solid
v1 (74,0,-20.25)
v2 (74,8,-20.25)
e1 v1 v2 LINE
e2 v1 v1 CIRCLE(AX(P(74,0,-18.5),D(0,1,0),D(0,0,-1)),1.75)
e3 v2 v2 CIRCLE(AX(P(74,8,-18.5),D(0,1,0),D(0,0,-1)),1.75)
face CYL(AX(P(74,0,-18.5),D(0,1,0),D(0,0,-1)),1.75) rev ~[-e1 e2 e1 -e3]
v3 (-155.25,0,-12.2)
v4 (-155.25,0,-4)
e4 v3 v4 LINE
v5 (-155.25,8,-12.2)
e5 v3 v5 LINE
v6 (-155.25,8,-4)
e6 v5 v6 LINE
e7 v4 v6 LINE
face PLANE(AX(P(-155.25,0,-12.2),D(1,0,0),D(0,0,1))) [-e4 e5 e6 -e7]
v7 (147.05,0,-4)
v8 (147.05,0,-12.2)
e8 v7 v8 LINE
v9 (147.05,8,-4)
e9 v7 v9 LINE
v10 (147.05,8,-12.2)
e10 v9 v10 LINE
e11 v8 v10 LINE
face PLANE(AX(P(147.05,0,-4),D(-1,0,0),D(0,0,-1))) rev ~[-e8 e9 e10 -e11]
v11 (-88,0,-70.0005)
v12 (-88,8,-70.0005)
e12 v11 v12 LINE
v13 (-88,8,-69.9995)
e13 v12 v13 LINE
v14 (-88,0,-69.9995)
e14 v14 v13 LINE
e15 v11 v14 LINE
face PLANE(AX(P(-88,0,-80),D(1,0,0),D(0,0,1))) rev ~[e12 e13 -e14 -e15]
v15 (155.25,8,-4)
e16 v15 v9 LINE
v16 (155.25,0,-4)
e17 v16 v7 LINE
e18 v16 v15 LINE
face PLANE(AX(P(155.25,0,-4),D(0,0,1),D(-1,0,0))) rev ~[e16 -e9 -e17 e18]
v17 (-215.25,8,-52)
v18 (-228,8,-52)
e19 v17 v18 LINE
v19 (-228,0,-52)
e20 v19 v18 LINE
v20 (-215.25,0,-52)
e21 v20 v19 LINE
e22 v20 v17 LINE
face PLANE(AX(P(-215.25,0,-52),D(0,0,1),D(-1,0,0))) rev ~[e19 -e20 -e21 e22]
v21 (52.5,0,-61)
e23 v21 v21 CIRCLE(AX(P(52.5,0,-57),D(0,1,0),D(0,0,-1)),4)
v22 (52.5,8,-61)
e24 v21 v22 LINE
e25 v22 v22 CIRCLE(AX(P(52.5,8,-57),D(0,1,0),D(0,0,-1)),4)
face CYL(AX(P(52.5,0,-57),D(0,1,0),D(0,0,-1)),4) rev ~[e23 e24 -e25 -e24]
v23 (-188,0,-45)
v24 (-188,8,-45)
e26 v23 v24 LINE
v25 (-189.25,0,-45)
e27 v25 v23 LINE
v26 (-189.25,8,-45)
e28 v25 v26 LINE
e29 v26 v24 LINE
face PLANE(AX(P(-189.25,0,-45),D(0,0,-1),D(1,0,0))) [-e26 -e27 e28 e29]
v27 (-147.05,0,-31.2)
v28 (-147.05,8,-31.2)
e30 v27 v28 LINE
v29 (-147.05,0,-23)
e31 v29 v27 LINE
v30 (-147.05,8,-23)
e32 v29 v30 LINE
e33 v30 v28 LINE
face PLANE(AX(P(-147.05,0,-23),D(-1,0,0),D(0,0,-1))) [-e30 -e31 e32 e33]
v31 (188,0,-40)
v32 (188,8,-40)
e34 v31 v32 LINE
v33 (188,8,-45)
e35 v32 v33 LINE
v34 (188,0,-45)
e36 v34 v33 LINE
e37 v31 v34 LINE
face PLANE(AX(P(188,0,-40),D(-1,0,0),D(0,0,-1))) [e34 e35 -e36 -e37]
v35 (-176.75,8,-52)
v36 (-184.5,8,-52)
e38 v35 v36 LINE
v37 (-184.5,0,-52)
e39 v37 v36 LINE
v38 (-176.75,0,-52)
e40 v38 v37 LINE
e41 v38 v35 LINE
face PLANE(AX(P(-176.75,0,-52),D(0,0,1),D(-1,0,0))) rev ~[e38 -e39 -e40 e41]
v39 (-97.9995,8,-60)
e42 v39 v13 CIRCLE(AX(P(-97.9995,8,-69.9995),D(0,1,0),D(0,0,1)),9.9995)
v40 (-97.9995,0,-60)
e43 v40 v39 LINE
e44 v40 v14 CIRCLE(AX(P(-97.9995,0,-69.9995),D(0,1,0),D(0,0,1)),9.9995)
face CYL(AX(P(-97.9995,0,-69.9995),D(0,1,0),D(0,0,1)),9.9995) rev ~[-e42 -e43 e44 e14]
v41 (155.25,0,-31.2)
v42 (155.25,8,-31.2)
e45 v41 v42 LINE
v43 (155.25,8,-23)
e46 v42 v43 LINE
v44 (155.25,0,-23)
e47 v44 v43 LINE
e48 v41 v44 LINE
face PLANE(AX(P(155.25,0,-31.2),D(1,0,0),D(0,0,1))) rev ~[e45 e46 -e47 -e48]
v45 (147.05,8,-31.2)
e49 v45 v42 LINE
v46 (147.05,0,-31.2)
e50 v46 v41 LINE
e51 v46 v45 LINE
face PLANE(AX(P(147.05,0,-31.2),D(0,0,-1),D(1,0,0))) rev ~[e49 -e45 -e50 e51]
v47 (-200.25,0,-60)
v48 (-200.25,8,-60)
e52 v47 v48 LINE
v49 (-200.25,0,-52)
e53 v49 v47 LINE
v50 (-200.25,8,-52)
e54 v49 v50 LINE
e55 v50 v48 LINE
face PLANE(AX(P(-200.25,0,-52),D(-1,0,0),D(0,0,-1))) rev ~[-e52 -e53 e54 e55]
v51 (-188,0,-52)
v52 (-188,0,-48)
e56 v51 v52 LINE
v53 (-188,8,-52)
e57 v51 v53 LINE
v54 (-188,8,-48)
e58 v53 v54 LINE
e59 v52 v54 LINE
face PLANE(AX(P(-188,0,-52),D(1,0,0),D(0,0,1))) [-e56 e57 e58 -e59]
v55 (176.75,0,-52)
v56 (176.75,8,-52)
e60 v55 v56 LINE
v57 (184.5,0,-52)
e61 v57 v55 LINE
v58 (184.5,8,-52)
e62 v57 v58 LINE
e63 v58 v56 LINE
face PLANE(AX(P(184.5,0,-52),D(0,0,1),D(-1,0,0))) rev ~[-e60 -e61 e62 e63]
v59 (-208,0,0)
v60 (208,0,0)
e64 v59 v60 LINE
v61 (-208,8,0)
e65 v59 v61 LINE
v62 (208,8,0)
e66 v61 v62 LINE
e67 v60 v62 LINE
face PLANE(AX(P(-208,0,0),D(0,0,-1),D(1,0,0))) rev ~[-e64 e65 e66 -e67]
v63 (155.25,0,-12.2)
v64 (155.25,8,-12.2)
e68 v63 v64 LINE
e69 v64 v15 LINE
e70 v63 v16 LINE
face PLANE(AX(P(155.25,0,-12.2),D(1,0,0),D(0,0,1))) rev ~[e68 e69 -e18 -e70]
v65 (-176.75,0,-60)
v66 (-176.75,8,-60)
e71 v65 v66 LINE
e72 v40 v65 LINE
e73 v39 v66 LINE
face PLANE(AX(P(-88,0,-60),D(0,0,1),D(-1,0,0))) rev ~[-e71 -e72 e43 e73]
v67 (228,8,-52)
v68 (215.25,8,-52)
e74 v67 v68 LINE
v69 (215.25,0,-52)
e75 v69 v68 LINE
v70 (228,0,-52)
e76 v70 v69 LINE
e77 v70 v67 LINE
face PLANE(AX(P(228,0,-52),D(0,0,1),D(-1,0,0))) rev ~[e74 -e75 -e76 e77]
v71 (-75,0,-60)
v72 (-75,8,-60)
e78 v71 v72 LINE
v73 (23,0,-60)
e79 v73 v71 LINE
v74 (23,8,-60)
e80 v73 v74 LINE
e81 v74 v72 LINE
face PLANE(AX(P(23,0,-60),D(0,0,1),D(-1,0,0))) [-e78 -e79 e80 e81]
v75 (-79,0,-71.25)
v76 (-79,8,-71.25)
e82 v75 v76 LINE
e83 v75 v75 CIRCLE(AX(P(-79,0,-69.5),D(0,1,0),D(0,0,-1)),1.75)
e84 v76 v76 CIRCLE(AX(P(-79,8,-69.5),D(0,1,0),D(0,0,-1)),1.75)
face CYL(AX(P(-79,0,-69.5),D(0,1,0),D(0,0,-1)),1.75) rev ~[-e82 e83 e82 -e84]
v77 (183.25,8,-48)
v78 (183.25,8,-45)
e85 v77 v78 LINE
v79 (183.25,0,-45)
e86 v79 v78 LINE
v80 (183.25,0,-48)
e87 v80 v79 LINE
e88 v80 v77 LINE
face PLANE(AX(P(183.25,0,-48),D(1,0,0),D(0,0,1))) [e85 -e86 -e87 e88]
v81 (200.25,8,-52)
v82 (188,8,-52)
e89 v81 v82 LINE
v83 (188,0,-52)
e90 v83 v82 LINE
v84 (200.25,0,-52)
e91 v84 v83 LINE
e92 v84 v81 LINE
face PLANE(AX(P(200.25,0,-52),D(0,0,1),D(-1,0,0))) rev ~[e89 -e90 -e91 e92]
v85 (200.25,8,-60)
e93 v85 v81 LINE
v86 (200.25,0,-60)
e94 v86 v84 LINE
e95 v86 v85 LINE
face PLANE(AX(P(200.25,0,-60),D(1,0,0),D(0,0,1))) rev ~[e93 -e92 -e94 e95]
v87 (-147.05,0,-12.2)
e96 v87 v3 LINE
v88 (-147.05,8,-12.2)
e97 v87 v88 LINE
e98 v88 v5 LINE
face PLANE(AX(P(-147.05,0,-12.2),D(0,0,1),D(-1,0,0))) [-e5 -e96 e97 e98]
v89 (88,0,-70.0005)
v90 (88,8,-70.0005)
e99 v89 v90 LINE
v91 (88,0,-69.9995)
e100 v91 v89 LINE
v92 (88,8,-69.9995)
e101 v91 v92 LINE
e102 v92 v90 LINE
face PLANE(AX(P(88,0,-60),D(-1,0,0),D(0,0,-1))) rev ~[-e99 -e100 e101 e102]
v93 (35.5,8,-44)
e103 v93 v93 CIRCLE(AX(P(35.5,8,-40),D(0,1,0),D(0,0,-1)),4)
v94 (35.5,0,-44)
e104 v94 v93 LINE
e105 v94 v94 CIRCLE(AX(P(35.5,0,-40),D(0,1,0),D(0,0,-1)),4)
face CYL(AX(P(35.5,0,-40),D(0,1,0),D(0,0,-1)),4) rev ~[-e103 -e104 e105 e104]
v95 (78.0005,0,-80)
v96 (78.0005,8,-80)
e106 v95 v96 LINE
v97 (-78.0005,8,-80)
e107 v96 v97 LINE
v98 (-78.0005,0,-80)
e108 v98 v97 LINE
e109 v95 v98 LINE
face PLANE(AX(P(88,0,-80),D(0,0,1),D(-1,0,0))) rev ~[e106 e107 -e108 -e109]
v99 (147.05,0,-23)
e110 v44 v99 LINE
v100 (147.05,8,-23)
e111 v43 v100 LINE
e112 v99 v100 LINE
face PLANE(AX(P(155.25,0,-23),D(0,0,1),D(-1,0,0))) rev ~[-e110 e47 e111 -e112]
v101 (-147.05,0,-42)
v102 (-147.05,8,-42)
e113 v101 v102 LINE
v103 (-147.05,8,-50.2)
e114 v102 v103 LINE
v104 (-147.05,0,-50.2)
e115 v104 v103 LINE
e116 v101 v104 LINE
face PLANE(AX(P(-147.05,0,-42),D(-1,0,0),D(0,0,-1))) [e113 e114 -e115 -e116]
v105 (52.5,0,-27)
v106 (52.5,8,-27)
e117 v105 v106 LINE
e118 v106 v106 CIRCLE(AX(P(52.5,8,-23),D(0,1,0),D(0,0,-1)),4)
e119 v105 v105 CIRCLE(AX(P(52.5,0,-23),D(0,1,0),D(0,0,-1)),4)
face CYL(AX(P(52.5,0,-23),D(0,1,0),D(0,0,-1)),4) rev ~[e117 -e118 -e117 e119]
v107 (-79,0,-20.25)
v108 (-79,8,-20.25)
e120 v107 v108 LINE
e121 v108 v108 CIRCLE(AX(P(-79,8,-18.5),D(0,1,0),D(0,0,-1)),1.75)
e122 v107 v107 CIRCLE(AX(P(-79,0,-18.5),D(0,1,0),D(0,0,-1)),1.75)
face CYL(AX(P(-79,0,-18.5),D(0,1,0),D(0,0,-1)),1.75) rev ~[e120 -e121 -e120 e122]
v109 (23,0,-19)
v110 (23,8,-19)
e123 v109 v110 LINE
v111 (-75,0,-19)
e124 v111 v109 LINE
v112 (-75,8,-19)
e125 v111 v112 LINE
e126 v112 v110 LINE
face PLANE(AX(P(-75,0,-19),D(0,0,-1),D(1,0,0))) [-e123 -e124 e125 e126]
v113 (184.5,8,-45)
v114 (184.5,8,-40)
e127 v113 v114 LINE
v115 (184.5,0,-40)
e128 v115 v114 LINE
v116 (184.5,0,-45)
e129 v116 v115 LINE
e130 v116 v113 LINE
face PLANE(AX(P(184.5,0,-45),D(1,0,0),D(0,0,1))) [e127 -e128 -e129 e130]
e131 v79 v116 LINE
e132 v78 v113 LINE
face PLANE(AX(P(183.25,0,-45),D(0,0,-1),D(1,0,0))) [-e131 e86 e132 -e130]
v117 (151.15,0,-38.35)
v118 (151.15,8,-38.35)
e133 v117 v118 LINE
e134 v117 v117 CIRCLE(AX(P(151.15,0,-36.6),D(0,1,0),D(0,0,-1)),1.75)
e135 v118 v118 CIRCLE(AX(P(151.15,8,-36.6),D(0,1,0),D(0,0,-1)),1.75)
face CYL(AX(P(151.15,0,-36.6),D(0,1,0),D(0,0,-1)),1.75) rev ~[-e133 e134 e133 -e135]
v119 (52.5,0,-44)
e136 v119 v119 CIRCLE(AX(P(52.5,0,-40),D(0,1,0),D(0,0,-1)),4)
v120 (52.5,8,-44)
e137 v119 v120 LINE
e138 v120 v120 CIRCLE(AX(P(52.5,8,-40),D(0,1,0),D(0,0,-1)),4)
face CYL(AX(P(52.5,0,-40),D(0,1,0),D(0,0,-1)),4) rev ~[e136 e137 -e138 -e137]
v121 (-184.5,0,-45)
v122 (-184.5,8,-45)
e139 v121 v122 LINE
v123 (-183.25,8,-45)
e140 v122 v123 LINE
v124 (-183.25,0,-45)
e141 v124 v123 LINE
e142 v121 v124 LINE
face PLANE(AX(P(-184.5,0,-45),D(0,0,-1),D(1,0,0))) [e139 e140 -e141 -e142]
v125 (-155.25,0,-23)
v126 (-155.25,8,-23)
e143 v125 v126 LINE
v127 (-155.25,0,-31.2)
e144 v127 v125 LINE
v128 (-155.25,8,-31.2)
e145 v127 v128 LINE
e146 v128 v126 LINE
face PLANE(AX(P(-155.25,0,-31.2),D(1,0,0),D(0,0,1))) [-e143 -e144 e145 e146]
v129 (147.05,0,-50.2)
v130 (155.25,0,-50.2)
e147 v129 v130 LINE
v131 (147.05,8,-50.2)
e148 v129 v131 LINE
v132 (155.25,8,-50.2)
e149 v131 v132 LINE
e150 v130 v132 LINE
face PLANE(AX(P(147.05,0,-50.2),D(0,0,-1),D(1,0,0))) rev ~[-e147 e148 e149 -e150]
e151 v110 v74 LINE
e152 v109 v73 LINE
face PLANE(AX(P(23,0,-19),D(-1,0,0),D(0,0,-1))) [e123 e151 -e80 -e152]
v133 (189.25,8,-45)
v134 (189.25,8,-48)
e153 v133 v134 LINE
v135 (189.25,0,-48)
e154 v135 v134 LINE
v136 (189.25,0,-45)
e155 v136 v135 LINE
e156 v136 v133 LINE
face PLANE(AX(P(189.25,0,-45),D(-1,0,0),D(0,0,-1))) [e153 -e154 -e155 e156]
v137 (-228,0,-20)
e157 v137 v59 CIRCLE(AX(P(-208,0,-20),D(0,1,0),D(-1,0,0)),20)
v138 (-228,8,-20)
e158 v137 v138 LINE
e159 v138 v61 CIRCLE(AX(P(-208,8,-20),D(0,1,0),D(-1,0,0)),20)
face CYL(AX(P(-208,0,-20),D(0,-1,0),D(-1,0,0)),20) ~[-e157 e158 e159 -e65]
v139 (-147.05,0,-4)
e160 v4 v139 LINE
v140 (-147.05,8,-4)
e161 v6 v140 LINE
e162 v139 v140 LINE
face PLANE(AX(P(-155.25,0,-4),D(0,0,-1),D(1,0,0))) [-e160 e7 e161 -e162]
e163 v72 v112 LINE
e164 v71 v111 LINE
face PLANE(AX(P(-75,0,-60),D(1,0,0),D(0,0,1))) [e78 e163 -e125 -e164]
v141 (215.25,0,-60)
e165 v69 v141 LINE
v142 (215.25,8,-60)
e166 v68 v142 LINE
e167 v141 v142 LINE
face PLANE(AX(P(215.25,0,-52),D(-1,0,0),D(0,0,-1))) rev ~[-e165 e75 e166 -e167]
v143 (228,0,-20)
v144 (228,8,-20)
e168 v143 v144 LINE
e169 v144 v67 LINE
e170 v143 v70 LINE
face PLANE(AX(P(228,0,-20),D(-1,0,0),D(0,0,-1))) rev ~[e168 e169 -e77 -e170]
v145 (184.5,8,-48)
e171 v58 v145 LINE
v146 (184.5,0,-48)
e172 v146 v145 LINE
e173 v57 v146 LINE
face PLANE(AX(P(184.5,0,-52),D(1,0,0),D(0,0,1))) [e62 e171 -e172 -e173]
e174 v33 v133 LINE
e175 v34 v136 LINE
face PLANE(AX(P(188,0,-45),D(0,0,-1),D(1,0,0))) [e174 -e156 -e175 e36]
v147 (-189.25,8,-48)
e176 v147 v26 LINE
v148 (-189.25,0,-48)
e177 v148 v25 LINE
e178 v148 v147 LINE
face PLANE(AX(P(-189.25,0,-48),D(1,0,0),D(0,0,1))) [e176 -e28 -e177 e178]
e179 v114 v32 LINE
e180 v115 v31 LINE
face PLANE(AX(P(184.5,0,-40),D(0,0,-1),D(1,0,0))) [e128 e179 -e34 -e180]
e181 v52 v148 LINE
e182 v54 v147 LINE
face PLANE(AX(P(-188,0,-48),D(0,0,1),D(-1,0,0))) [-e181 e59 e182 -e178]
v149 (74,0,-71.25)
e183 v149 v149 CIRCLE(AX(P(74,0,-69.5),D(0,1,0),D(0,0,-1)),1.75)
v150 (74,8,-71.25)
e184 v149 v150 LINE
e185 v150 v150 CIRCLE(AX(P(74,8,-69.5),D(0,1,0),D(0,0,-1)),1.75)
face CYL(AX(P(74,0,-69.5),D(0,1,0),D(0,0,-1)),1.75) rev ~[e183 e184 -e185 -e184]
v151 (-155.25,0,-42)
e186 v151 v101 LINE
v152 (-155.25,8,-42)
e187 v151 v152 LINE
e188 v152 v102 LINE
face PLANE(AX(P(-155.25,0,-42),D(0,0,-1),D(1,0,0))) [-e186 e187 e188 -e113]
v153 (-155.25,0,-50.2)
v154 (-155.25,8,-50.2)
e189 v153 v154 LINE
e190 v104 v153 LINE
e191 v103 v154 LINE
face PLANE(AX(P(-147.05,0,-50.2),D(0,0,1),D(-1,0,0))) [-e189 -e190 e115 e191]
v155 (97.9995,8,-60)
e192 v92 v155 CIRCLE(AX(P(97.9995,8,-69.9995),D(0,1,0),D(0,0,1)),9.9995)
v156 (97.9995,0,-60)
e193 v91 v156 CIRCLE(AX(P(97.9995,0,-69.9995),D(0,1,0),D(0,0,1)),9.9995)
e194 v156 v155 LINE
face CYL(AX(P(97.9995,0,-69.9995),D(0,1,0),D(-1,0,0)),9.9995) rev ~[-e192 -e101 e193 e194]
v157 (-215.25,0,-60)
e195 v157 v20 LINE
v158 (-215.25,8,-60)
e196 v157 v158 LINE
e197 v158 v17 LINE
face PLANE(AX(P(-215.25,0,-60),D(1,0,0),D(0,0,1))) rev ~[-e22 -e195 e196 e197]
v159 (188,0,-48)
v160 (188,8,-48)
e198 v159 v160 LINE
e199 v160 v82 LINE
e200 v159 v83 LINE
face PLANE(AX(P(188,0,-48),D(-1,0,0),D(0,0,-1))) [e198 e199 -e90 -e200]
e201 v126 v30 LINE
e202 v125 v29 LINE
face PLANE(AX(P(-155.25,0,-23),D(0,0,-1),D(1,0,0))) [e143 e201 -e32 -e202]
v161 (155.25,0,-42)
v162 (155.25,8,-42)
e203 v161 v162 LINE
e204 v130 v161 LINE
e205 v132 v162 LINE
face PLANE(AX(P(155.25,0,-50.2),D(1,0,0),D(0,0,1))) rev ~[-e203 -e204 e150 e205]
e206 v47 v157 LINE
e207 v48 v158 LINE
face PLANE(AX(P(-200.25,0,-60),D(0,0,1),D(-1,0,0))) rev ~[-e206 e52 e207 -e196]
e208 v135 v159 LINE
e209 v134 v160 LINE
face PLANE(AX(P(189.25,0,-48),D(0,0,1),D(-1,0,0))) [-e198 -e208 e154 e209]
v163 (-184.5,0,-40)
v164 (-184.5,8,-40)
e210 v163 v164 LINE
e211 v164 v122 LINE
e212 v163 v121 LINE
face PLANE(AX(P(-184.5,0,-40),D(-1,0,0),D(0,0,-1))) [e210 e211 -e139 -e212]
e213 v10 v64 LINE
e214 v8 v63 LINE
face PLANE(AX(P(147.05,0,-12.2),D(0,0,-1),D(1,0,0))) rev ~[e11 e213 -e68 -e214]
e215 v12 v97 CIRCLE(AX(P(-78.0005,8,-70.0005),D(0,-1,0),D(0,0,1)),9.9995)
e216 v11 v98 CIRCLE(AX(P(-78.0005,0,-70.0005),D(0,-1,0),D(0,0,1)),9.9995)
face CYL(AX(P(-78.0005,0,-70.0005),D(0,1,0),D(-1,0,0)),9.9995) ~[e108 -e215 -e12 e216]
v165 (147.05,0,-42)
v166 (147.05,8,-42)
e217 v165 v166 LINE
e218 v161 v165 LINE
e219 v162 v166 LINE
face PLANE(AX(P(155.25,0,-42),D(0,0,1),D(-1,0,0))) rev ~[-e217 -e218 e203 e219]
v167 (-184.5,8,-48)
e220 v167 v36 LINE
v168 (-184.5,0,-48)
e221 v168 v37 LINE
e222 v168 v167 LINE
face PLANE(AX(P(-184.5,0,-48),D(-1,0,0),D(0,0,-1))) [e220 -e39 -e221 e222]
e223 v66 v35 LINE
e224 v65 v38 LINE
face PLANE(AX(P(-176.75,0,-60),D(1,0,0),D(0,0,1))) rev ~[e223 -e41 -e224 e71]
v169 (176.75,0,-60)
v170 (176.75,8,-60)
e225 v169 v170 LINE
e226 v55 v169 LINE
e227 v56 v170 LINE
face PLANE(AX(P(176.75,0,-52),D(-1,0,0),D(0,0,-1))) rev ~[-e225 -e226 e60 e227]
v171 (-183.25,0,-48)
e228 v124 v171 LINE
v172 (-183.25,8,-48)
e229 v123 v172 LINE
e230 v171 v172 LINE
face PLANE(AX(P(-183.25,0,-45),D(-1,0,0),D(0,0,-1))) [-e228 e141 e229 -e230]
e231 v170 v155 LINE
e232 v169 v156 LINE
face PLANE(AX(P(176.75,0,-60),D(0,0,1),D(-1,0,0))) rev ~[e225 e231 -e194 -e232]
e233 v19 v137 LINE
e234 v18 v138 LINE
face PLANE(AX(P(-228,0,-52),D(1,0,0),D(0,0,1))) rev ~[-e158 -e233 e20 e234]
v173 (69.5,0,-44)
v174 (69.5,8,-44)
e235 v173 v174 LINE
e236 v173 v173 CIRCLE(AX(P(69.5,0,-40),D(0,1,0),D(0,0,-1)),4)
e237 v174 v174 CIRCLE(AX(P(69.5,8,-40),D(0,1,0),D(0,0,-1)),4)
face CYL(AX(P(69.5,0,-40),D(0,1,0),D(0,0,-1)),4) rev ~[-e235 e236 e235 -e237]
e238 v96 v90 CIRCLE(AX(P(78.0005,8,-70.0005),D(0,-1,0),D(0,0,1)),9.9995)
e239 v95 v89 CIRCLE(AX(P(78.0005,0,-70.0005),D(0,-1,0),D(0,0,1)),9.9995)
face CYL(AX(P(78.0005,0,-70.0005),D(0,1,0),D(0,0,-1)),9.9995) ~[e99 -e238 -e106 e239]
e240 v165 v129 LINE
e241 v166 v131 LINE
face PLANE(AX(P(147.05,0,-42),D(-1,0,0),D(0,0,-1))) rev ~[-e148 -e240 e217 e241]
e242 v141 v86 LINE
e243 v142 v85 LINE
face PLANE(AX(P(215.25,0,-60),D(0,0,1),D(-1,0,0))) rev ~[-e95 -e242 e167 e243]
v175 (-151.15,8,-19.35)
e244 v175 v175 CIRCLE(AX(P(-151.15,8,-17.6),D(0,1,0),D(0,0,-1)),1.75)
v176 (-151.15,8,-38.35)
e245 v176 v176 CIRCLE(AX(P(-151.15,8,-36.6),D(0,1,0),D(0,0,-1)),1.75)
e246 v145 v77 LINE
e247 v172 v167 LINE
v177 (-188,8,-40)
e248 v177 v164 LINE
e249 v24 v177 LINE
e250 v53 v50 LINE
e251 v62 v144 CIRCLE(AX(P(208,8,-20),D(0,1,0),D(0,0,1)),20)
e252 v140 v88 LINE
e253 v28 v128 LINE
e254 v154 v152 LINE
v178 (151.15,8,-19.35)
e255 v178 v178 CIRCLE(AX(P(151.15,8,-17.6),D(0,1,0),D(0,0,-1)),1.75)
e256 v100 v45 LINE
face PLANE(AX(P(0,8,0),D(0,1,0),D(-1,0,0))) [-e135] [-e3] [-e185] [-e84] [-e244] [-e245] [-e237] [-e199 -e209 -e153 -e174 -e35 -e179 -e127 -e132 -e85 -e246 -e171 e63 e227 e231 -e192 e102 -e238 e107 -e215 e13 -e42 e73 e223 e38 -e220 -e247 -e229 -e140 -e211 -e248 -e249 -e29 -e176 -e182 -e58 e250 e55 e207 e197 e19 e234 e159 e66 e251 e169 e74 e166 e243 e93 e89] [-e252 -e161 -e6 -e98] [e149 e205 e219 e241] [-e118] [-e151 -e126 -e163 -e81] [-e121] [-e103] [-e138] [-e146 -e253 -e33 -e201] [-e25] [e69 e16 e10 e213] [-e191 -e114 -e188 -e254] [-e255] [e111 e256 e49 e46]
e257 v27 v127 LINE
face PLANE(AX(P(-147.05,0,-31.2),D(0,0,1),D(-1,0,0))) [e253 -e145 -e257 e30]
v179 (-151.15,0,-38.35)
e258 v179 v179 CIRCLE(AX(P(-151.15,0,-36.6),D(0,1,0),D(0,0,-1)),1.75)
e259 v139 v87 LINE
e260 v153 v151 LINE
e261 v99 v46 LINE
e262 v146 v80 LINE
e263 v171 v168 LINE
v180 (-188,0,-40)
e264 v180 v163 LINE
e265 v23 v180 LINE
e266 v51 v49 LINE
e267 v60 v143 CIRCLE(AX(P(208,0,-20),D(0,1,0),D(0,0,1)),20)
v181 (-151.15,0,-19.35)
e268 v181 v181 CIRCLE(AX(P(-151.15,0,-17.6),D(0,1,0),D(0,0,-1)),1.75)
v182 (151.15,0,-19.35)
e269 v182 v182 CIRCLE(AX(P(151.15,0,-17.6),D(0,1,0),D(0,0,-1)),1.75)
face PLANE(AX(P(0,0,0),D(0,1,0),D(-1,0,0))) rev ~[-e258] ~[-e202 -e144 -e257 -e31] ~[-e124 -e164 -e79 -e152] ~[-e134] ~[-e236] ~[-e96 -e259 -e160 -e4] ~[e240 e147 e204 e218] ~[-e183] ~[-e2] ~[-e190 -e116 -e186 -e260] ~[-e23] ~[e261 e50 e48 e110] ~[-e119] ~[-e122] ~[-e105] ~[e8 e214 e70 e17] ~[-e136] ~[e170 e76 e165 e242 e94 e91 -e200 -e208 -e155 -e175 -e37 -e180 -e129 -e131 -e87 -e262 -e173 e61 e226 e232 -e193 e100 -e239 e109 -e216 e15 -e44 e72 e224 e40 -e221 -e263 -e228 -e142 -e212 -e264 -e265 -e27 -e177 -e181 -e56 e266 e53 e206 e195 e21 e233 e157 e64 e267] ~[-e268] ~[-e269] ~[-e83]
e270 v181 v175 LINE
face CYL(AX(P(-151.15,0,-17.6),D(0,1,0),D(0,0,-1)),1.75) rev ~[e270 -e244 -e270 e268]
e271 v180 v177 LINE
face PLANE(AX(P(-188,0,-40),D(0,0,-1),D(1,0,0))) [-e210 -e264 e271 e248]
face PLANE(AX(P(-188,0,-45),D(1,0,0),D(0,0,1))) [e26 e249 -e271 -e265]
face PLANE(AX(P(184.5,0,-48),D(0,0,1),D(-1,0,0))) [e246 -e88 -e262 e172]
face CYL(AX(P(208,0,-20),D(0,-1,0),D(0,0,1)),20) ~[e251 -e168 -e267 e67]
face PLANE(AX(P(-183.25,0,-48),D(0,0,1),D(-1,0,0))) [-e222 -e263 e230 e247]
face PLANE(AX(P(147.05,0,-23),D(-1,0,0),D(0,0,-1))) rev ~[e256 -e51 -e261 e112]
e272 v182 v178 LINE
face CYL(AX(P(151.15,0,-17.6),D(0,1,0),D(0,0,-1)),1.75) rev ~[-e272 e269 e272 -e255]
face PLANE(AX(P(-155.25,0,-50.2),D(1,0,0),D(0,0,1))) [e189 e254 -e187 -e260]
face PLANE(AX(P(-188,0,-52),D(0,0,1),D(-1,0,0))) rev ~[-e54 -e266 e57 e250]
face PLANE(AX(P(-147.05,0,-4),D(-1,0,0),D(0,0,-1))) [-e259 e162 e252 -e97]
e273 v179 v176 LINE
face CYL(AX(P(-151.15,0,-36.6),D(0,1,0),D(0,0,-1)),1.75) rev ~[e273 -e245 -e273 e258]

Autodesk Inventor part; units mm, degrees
ref_plane "YZ Plane" through (0, 0, 0) normal (1, 0, 0) x (0, 1, 0)
ref_plane "XY Plane" through (0, 0, 0) normal (0, 0, 1) x (1, 0, 0)
sketch "Sketch1" plane through (0, 0, 0) normal (0, 1, 0) x (-1, 0, 0)
  line L0 (208, 0) -> (-208, 0)
  line L1 (-228, -20) -> (-228, -52)
  line L2 (-228, -52) -> (-215.25, -52)
  line L3 (-215.25, -52) -> (-215.25, -60)
  line L4 (-215.25, -60) -> (-200.25, -60)
  line L5 (-200.25, -60) -> (-200.25, -52)
  line L6 (-200.25, -52) -> (-176.75, -52)
  line L7 (-176.75, -52) -> (-176.75, -60)
  line L8 (-176.75, -60) -> (-88, -60)
  line L9 (-88, -60) -> (-88, -80)
  line L10 (-88, -80) -> (88, -80)
  line L11 (88, -80) -> (88, -60)
  line L12 (88, -60) -> (176.75, -60)
  line L13 (176.75, -60) -> (176.75, -52)
  line L14 (176.75, -52) -> (200.25, -52)
  line L15 (200.25, -52) -> (200.25, -60)
  line L16 (200.25, -60) -> (215.25, -60)
  line L17 (215.25, -60) -> (215.25, -52)
  line L18 (215.25, -52) -> (228, -52)
  line L19 (228, -52) -> (228, -20)
  line L20 (0, -80) -> (0, 0) construction
  arc A0 (228, -20) -> (208, 0) centre (208, -20) ccw
  arc A1 (-208, 0) -> (-228, -20) centre (-208, -20) ccw
  line L21 (75, -19) -> (-23, -19)
  line L22 (-23, -19) -> (-23, -60)
  line L23 (-23, -60) -> (75, -60)
  line L24 (75, -60) -> (75, -19)
  line L25 (155.25, -4) -> (147.05, -4)
  line L26 (147.05, -4) -> (147.05, -12.2)
  line L27 (147.05, -12.2) -> (155.25, -12.2)
  line L28 (155.25, -12.2) -> (155.25, -4)
  line L29 (155.25, -23) -> (147.05, -23)
  line L30 (147.05, -23) -> (147.05, -31.2)
  line L31 (147.05, -31.2) -> (155.25, -31.2)
  line L32 (155.25, -31.2) -> (155.25, -23)
  line L33 (155.25, -42) -> (147.05, -42)
  line L34 (147.05, -42) -> (147.05, -50.2)
  line L35 (147.05, -50.2) -> (155.25, -50.2)
  line L36 (155.25, -50.2) -> (155.25, -42)
  line L37 (151.15, -42) -> (151.15, -31.2) construction
  line L38 (151.15, -23) -> (151.15, -12.2) construction
  line L39 (-155.25, -4) -> (-147.05, -4)
  line L40 (-147.05, -4) -> (-147.05, -12.2)
  line L41 (-147.05, -12.2) -> (-155.25, -12.2)
  line L42 (-155.25, -12.2) -> (-155.25, -4)
  line L43 (-155.25, -23) -> (-147.05, -23)
  line L44 (-147.05, -23) -> (-147.05, -31.2)
  line L45 (-147.05, -31.2) -> (-155.25, -31.2)
  line L46 (-155.25, -31.2) -> (-155.25, -23)
  line L47 (-155.25, -42) -> (-147.05, -42)
  line L48 (-147.05, -42) -> (-147.05, -50.2)
  line L49 (-147.05, -50.2) -> (-155.25, -50.2)
  line L50 (-155.25, -50.2) -> (-155.25, -42)
  line L51 (-151.15, -42) -> (-151.15, -31.2) construction
  line L52 (-151.15, -23) -> (-151.15, -12.2) construction
  line L53 (79, -69.5) -> (-74, -69.5) construction
  line L54 (-74, -69.5) -> (-74, -18.5) construction
  line L55 (-74, -18.5) -> (79, -18.5) construction
  line L56 (79, -18.5) -> (79, -69.5) construction
  line L57 (-35.5, -40) -> (-69.5, -40) construction
  line L58 (-52.5, -57) -> (-52.5, -23) construction
  line L59 (188, -52) -> (188, -48)
  line L60 (188, -48) -> (189.25, -48)
  line L61 (189.25, -48) -> (189.25, -45)
  line L62 (189.25, -45) -> (188, -45)
  line L63 (188, -45) -> (188, -40)
  line L64 (188, -40) -> (184.5, -40)
  line L65 (184.5, -40) -> (184.5, -45)
  line L66 (184.5, -45) -> (183.25, -45)
  line L67 (183.25, -45) -> (183.25, -48)
  line L68 (183.25, -48) -> (184.5, -48)
  line L69 (184.5, -48) -> (184.5, -52)
  line L70 (-184.5, -52) -> (-184.5, -48)
  line L71 (-184.5, -48) -> (-183.25, -48)
  line L72 (-183.25, -48) -> (-183.25, -45)
  line L73 (-183.25, -45) -> (-184.5, -45)
  line L74 (-184.5, -45) -> (-184.5, -40)
  line L75 (-184.5, -40) -> (-188, -40)
  line L76 (-188, -40) -> (-188, -45)
  line L77 (-188, -45) -> (-189.25, -45)
  line L78 (-189.25, -45) -> (-189.25, -48)
  line L79 (-189.25, -48) -> (-188, -48)
  line L80 (-188, -48) -> (-188, -52)
  point P0 (228, 0)
  point P1 (-228, 0)
  point P2 (151.15, -36.6)
  point P3 (151.15, -17.6)
  point P4 (-151.15, -36.6)
  point P5 (-151.15, -17.6)
  point P6 (-52.5, -40)
  point P7 (-52.5, -40)
  dimension "d0" = 456
  dimension "d1" = 80
  dimension "d2" = 60
  dimension "d3" = 8
  dimension "d4" = 140
  dimension "d5" = 23.5
  dimension "d6" = 15
  dimension "d7" = 12.75
  dimension "d8" = 20
  dimension "d9" = 19
  dimension "d10" = 41
  dimension "d11" = 98
  dimension "d12" = 153
  dimension "d13" = 8.2
  dimension "d14" = 8.2
  dimension "d15" = 72.75
  dimension "d16" = 4
  dimension "d17" = 23
  dimension "d18" = 42
  dimension "d19" = 18.5
  dimension "d20" = 51
  dimension "d21" = 153
  dimension "d22" = 149
  dimension "d23" = 40
  dimension "d24" = 29.5
  dimension "d25" = 34
  dimension "d26" = 34
  dimension "d27" = 4
  dimension "d28" = 3
  dimension "d29" = 5
  dimension "d30" = 6
  dimension "d31" = 3.5
  dimension "d32" = 40
  dimension "d34" = 3.5
  dimension "d35" = 6
  dimension "d36" = 40
extrude "Extrusion1" add sketch "Sketch1" along normal blind 8 contours A0 L19 L18 L17 L16 L15 L14 L59 L60 L61 L62 L63 L64 L65 L66 L67 L68 L69 L13 L12 L11 L10 L9 L8 L7 L6 L70 L71 L72 L73 L74 L75 L76 L77 L78 L79 L80 L5 L4 L3 L2 L1 A1 L0
fillet "Fillet1" radius 10 4 edges at (-88, 4, -60) (-88, 4, -80) (88, 4, -80) (88, 4, -60)
hole "Hole1" at (-151.15, 0, -36.6) at (-151.15, 0, -17.6) at (151.15, 0, -17.6) at (151.15, 0, -36.6) at (-79, 0, -69.5) at (-79, 0, -18.5) at (74, 0, -18.5) at (74, 0, -69.5) direction (0, 1, 0) diameter 3.5 end through all
hole "Hole2" at (35.5, 0, -40) at (52.5, 0, -57) at (52.5, 0, -40) at (69.5, 0, -40) at (52.5, 0, -23) direction (0, 1, 0) diameter 8 end through all
ref_plane "Work Plane2" through (0, 4, 0) normal (0, 1, 0) x (-1, 0, 0)
equation "\"d34\" = d31"
equation "\"d35\" = d30"
equation "\"d36\" = d32"
equation "\"d55\" = 0.5 * THICKNESS"
equation "\"THICKNESS\" = 8"
properties part number "A8-0011"
